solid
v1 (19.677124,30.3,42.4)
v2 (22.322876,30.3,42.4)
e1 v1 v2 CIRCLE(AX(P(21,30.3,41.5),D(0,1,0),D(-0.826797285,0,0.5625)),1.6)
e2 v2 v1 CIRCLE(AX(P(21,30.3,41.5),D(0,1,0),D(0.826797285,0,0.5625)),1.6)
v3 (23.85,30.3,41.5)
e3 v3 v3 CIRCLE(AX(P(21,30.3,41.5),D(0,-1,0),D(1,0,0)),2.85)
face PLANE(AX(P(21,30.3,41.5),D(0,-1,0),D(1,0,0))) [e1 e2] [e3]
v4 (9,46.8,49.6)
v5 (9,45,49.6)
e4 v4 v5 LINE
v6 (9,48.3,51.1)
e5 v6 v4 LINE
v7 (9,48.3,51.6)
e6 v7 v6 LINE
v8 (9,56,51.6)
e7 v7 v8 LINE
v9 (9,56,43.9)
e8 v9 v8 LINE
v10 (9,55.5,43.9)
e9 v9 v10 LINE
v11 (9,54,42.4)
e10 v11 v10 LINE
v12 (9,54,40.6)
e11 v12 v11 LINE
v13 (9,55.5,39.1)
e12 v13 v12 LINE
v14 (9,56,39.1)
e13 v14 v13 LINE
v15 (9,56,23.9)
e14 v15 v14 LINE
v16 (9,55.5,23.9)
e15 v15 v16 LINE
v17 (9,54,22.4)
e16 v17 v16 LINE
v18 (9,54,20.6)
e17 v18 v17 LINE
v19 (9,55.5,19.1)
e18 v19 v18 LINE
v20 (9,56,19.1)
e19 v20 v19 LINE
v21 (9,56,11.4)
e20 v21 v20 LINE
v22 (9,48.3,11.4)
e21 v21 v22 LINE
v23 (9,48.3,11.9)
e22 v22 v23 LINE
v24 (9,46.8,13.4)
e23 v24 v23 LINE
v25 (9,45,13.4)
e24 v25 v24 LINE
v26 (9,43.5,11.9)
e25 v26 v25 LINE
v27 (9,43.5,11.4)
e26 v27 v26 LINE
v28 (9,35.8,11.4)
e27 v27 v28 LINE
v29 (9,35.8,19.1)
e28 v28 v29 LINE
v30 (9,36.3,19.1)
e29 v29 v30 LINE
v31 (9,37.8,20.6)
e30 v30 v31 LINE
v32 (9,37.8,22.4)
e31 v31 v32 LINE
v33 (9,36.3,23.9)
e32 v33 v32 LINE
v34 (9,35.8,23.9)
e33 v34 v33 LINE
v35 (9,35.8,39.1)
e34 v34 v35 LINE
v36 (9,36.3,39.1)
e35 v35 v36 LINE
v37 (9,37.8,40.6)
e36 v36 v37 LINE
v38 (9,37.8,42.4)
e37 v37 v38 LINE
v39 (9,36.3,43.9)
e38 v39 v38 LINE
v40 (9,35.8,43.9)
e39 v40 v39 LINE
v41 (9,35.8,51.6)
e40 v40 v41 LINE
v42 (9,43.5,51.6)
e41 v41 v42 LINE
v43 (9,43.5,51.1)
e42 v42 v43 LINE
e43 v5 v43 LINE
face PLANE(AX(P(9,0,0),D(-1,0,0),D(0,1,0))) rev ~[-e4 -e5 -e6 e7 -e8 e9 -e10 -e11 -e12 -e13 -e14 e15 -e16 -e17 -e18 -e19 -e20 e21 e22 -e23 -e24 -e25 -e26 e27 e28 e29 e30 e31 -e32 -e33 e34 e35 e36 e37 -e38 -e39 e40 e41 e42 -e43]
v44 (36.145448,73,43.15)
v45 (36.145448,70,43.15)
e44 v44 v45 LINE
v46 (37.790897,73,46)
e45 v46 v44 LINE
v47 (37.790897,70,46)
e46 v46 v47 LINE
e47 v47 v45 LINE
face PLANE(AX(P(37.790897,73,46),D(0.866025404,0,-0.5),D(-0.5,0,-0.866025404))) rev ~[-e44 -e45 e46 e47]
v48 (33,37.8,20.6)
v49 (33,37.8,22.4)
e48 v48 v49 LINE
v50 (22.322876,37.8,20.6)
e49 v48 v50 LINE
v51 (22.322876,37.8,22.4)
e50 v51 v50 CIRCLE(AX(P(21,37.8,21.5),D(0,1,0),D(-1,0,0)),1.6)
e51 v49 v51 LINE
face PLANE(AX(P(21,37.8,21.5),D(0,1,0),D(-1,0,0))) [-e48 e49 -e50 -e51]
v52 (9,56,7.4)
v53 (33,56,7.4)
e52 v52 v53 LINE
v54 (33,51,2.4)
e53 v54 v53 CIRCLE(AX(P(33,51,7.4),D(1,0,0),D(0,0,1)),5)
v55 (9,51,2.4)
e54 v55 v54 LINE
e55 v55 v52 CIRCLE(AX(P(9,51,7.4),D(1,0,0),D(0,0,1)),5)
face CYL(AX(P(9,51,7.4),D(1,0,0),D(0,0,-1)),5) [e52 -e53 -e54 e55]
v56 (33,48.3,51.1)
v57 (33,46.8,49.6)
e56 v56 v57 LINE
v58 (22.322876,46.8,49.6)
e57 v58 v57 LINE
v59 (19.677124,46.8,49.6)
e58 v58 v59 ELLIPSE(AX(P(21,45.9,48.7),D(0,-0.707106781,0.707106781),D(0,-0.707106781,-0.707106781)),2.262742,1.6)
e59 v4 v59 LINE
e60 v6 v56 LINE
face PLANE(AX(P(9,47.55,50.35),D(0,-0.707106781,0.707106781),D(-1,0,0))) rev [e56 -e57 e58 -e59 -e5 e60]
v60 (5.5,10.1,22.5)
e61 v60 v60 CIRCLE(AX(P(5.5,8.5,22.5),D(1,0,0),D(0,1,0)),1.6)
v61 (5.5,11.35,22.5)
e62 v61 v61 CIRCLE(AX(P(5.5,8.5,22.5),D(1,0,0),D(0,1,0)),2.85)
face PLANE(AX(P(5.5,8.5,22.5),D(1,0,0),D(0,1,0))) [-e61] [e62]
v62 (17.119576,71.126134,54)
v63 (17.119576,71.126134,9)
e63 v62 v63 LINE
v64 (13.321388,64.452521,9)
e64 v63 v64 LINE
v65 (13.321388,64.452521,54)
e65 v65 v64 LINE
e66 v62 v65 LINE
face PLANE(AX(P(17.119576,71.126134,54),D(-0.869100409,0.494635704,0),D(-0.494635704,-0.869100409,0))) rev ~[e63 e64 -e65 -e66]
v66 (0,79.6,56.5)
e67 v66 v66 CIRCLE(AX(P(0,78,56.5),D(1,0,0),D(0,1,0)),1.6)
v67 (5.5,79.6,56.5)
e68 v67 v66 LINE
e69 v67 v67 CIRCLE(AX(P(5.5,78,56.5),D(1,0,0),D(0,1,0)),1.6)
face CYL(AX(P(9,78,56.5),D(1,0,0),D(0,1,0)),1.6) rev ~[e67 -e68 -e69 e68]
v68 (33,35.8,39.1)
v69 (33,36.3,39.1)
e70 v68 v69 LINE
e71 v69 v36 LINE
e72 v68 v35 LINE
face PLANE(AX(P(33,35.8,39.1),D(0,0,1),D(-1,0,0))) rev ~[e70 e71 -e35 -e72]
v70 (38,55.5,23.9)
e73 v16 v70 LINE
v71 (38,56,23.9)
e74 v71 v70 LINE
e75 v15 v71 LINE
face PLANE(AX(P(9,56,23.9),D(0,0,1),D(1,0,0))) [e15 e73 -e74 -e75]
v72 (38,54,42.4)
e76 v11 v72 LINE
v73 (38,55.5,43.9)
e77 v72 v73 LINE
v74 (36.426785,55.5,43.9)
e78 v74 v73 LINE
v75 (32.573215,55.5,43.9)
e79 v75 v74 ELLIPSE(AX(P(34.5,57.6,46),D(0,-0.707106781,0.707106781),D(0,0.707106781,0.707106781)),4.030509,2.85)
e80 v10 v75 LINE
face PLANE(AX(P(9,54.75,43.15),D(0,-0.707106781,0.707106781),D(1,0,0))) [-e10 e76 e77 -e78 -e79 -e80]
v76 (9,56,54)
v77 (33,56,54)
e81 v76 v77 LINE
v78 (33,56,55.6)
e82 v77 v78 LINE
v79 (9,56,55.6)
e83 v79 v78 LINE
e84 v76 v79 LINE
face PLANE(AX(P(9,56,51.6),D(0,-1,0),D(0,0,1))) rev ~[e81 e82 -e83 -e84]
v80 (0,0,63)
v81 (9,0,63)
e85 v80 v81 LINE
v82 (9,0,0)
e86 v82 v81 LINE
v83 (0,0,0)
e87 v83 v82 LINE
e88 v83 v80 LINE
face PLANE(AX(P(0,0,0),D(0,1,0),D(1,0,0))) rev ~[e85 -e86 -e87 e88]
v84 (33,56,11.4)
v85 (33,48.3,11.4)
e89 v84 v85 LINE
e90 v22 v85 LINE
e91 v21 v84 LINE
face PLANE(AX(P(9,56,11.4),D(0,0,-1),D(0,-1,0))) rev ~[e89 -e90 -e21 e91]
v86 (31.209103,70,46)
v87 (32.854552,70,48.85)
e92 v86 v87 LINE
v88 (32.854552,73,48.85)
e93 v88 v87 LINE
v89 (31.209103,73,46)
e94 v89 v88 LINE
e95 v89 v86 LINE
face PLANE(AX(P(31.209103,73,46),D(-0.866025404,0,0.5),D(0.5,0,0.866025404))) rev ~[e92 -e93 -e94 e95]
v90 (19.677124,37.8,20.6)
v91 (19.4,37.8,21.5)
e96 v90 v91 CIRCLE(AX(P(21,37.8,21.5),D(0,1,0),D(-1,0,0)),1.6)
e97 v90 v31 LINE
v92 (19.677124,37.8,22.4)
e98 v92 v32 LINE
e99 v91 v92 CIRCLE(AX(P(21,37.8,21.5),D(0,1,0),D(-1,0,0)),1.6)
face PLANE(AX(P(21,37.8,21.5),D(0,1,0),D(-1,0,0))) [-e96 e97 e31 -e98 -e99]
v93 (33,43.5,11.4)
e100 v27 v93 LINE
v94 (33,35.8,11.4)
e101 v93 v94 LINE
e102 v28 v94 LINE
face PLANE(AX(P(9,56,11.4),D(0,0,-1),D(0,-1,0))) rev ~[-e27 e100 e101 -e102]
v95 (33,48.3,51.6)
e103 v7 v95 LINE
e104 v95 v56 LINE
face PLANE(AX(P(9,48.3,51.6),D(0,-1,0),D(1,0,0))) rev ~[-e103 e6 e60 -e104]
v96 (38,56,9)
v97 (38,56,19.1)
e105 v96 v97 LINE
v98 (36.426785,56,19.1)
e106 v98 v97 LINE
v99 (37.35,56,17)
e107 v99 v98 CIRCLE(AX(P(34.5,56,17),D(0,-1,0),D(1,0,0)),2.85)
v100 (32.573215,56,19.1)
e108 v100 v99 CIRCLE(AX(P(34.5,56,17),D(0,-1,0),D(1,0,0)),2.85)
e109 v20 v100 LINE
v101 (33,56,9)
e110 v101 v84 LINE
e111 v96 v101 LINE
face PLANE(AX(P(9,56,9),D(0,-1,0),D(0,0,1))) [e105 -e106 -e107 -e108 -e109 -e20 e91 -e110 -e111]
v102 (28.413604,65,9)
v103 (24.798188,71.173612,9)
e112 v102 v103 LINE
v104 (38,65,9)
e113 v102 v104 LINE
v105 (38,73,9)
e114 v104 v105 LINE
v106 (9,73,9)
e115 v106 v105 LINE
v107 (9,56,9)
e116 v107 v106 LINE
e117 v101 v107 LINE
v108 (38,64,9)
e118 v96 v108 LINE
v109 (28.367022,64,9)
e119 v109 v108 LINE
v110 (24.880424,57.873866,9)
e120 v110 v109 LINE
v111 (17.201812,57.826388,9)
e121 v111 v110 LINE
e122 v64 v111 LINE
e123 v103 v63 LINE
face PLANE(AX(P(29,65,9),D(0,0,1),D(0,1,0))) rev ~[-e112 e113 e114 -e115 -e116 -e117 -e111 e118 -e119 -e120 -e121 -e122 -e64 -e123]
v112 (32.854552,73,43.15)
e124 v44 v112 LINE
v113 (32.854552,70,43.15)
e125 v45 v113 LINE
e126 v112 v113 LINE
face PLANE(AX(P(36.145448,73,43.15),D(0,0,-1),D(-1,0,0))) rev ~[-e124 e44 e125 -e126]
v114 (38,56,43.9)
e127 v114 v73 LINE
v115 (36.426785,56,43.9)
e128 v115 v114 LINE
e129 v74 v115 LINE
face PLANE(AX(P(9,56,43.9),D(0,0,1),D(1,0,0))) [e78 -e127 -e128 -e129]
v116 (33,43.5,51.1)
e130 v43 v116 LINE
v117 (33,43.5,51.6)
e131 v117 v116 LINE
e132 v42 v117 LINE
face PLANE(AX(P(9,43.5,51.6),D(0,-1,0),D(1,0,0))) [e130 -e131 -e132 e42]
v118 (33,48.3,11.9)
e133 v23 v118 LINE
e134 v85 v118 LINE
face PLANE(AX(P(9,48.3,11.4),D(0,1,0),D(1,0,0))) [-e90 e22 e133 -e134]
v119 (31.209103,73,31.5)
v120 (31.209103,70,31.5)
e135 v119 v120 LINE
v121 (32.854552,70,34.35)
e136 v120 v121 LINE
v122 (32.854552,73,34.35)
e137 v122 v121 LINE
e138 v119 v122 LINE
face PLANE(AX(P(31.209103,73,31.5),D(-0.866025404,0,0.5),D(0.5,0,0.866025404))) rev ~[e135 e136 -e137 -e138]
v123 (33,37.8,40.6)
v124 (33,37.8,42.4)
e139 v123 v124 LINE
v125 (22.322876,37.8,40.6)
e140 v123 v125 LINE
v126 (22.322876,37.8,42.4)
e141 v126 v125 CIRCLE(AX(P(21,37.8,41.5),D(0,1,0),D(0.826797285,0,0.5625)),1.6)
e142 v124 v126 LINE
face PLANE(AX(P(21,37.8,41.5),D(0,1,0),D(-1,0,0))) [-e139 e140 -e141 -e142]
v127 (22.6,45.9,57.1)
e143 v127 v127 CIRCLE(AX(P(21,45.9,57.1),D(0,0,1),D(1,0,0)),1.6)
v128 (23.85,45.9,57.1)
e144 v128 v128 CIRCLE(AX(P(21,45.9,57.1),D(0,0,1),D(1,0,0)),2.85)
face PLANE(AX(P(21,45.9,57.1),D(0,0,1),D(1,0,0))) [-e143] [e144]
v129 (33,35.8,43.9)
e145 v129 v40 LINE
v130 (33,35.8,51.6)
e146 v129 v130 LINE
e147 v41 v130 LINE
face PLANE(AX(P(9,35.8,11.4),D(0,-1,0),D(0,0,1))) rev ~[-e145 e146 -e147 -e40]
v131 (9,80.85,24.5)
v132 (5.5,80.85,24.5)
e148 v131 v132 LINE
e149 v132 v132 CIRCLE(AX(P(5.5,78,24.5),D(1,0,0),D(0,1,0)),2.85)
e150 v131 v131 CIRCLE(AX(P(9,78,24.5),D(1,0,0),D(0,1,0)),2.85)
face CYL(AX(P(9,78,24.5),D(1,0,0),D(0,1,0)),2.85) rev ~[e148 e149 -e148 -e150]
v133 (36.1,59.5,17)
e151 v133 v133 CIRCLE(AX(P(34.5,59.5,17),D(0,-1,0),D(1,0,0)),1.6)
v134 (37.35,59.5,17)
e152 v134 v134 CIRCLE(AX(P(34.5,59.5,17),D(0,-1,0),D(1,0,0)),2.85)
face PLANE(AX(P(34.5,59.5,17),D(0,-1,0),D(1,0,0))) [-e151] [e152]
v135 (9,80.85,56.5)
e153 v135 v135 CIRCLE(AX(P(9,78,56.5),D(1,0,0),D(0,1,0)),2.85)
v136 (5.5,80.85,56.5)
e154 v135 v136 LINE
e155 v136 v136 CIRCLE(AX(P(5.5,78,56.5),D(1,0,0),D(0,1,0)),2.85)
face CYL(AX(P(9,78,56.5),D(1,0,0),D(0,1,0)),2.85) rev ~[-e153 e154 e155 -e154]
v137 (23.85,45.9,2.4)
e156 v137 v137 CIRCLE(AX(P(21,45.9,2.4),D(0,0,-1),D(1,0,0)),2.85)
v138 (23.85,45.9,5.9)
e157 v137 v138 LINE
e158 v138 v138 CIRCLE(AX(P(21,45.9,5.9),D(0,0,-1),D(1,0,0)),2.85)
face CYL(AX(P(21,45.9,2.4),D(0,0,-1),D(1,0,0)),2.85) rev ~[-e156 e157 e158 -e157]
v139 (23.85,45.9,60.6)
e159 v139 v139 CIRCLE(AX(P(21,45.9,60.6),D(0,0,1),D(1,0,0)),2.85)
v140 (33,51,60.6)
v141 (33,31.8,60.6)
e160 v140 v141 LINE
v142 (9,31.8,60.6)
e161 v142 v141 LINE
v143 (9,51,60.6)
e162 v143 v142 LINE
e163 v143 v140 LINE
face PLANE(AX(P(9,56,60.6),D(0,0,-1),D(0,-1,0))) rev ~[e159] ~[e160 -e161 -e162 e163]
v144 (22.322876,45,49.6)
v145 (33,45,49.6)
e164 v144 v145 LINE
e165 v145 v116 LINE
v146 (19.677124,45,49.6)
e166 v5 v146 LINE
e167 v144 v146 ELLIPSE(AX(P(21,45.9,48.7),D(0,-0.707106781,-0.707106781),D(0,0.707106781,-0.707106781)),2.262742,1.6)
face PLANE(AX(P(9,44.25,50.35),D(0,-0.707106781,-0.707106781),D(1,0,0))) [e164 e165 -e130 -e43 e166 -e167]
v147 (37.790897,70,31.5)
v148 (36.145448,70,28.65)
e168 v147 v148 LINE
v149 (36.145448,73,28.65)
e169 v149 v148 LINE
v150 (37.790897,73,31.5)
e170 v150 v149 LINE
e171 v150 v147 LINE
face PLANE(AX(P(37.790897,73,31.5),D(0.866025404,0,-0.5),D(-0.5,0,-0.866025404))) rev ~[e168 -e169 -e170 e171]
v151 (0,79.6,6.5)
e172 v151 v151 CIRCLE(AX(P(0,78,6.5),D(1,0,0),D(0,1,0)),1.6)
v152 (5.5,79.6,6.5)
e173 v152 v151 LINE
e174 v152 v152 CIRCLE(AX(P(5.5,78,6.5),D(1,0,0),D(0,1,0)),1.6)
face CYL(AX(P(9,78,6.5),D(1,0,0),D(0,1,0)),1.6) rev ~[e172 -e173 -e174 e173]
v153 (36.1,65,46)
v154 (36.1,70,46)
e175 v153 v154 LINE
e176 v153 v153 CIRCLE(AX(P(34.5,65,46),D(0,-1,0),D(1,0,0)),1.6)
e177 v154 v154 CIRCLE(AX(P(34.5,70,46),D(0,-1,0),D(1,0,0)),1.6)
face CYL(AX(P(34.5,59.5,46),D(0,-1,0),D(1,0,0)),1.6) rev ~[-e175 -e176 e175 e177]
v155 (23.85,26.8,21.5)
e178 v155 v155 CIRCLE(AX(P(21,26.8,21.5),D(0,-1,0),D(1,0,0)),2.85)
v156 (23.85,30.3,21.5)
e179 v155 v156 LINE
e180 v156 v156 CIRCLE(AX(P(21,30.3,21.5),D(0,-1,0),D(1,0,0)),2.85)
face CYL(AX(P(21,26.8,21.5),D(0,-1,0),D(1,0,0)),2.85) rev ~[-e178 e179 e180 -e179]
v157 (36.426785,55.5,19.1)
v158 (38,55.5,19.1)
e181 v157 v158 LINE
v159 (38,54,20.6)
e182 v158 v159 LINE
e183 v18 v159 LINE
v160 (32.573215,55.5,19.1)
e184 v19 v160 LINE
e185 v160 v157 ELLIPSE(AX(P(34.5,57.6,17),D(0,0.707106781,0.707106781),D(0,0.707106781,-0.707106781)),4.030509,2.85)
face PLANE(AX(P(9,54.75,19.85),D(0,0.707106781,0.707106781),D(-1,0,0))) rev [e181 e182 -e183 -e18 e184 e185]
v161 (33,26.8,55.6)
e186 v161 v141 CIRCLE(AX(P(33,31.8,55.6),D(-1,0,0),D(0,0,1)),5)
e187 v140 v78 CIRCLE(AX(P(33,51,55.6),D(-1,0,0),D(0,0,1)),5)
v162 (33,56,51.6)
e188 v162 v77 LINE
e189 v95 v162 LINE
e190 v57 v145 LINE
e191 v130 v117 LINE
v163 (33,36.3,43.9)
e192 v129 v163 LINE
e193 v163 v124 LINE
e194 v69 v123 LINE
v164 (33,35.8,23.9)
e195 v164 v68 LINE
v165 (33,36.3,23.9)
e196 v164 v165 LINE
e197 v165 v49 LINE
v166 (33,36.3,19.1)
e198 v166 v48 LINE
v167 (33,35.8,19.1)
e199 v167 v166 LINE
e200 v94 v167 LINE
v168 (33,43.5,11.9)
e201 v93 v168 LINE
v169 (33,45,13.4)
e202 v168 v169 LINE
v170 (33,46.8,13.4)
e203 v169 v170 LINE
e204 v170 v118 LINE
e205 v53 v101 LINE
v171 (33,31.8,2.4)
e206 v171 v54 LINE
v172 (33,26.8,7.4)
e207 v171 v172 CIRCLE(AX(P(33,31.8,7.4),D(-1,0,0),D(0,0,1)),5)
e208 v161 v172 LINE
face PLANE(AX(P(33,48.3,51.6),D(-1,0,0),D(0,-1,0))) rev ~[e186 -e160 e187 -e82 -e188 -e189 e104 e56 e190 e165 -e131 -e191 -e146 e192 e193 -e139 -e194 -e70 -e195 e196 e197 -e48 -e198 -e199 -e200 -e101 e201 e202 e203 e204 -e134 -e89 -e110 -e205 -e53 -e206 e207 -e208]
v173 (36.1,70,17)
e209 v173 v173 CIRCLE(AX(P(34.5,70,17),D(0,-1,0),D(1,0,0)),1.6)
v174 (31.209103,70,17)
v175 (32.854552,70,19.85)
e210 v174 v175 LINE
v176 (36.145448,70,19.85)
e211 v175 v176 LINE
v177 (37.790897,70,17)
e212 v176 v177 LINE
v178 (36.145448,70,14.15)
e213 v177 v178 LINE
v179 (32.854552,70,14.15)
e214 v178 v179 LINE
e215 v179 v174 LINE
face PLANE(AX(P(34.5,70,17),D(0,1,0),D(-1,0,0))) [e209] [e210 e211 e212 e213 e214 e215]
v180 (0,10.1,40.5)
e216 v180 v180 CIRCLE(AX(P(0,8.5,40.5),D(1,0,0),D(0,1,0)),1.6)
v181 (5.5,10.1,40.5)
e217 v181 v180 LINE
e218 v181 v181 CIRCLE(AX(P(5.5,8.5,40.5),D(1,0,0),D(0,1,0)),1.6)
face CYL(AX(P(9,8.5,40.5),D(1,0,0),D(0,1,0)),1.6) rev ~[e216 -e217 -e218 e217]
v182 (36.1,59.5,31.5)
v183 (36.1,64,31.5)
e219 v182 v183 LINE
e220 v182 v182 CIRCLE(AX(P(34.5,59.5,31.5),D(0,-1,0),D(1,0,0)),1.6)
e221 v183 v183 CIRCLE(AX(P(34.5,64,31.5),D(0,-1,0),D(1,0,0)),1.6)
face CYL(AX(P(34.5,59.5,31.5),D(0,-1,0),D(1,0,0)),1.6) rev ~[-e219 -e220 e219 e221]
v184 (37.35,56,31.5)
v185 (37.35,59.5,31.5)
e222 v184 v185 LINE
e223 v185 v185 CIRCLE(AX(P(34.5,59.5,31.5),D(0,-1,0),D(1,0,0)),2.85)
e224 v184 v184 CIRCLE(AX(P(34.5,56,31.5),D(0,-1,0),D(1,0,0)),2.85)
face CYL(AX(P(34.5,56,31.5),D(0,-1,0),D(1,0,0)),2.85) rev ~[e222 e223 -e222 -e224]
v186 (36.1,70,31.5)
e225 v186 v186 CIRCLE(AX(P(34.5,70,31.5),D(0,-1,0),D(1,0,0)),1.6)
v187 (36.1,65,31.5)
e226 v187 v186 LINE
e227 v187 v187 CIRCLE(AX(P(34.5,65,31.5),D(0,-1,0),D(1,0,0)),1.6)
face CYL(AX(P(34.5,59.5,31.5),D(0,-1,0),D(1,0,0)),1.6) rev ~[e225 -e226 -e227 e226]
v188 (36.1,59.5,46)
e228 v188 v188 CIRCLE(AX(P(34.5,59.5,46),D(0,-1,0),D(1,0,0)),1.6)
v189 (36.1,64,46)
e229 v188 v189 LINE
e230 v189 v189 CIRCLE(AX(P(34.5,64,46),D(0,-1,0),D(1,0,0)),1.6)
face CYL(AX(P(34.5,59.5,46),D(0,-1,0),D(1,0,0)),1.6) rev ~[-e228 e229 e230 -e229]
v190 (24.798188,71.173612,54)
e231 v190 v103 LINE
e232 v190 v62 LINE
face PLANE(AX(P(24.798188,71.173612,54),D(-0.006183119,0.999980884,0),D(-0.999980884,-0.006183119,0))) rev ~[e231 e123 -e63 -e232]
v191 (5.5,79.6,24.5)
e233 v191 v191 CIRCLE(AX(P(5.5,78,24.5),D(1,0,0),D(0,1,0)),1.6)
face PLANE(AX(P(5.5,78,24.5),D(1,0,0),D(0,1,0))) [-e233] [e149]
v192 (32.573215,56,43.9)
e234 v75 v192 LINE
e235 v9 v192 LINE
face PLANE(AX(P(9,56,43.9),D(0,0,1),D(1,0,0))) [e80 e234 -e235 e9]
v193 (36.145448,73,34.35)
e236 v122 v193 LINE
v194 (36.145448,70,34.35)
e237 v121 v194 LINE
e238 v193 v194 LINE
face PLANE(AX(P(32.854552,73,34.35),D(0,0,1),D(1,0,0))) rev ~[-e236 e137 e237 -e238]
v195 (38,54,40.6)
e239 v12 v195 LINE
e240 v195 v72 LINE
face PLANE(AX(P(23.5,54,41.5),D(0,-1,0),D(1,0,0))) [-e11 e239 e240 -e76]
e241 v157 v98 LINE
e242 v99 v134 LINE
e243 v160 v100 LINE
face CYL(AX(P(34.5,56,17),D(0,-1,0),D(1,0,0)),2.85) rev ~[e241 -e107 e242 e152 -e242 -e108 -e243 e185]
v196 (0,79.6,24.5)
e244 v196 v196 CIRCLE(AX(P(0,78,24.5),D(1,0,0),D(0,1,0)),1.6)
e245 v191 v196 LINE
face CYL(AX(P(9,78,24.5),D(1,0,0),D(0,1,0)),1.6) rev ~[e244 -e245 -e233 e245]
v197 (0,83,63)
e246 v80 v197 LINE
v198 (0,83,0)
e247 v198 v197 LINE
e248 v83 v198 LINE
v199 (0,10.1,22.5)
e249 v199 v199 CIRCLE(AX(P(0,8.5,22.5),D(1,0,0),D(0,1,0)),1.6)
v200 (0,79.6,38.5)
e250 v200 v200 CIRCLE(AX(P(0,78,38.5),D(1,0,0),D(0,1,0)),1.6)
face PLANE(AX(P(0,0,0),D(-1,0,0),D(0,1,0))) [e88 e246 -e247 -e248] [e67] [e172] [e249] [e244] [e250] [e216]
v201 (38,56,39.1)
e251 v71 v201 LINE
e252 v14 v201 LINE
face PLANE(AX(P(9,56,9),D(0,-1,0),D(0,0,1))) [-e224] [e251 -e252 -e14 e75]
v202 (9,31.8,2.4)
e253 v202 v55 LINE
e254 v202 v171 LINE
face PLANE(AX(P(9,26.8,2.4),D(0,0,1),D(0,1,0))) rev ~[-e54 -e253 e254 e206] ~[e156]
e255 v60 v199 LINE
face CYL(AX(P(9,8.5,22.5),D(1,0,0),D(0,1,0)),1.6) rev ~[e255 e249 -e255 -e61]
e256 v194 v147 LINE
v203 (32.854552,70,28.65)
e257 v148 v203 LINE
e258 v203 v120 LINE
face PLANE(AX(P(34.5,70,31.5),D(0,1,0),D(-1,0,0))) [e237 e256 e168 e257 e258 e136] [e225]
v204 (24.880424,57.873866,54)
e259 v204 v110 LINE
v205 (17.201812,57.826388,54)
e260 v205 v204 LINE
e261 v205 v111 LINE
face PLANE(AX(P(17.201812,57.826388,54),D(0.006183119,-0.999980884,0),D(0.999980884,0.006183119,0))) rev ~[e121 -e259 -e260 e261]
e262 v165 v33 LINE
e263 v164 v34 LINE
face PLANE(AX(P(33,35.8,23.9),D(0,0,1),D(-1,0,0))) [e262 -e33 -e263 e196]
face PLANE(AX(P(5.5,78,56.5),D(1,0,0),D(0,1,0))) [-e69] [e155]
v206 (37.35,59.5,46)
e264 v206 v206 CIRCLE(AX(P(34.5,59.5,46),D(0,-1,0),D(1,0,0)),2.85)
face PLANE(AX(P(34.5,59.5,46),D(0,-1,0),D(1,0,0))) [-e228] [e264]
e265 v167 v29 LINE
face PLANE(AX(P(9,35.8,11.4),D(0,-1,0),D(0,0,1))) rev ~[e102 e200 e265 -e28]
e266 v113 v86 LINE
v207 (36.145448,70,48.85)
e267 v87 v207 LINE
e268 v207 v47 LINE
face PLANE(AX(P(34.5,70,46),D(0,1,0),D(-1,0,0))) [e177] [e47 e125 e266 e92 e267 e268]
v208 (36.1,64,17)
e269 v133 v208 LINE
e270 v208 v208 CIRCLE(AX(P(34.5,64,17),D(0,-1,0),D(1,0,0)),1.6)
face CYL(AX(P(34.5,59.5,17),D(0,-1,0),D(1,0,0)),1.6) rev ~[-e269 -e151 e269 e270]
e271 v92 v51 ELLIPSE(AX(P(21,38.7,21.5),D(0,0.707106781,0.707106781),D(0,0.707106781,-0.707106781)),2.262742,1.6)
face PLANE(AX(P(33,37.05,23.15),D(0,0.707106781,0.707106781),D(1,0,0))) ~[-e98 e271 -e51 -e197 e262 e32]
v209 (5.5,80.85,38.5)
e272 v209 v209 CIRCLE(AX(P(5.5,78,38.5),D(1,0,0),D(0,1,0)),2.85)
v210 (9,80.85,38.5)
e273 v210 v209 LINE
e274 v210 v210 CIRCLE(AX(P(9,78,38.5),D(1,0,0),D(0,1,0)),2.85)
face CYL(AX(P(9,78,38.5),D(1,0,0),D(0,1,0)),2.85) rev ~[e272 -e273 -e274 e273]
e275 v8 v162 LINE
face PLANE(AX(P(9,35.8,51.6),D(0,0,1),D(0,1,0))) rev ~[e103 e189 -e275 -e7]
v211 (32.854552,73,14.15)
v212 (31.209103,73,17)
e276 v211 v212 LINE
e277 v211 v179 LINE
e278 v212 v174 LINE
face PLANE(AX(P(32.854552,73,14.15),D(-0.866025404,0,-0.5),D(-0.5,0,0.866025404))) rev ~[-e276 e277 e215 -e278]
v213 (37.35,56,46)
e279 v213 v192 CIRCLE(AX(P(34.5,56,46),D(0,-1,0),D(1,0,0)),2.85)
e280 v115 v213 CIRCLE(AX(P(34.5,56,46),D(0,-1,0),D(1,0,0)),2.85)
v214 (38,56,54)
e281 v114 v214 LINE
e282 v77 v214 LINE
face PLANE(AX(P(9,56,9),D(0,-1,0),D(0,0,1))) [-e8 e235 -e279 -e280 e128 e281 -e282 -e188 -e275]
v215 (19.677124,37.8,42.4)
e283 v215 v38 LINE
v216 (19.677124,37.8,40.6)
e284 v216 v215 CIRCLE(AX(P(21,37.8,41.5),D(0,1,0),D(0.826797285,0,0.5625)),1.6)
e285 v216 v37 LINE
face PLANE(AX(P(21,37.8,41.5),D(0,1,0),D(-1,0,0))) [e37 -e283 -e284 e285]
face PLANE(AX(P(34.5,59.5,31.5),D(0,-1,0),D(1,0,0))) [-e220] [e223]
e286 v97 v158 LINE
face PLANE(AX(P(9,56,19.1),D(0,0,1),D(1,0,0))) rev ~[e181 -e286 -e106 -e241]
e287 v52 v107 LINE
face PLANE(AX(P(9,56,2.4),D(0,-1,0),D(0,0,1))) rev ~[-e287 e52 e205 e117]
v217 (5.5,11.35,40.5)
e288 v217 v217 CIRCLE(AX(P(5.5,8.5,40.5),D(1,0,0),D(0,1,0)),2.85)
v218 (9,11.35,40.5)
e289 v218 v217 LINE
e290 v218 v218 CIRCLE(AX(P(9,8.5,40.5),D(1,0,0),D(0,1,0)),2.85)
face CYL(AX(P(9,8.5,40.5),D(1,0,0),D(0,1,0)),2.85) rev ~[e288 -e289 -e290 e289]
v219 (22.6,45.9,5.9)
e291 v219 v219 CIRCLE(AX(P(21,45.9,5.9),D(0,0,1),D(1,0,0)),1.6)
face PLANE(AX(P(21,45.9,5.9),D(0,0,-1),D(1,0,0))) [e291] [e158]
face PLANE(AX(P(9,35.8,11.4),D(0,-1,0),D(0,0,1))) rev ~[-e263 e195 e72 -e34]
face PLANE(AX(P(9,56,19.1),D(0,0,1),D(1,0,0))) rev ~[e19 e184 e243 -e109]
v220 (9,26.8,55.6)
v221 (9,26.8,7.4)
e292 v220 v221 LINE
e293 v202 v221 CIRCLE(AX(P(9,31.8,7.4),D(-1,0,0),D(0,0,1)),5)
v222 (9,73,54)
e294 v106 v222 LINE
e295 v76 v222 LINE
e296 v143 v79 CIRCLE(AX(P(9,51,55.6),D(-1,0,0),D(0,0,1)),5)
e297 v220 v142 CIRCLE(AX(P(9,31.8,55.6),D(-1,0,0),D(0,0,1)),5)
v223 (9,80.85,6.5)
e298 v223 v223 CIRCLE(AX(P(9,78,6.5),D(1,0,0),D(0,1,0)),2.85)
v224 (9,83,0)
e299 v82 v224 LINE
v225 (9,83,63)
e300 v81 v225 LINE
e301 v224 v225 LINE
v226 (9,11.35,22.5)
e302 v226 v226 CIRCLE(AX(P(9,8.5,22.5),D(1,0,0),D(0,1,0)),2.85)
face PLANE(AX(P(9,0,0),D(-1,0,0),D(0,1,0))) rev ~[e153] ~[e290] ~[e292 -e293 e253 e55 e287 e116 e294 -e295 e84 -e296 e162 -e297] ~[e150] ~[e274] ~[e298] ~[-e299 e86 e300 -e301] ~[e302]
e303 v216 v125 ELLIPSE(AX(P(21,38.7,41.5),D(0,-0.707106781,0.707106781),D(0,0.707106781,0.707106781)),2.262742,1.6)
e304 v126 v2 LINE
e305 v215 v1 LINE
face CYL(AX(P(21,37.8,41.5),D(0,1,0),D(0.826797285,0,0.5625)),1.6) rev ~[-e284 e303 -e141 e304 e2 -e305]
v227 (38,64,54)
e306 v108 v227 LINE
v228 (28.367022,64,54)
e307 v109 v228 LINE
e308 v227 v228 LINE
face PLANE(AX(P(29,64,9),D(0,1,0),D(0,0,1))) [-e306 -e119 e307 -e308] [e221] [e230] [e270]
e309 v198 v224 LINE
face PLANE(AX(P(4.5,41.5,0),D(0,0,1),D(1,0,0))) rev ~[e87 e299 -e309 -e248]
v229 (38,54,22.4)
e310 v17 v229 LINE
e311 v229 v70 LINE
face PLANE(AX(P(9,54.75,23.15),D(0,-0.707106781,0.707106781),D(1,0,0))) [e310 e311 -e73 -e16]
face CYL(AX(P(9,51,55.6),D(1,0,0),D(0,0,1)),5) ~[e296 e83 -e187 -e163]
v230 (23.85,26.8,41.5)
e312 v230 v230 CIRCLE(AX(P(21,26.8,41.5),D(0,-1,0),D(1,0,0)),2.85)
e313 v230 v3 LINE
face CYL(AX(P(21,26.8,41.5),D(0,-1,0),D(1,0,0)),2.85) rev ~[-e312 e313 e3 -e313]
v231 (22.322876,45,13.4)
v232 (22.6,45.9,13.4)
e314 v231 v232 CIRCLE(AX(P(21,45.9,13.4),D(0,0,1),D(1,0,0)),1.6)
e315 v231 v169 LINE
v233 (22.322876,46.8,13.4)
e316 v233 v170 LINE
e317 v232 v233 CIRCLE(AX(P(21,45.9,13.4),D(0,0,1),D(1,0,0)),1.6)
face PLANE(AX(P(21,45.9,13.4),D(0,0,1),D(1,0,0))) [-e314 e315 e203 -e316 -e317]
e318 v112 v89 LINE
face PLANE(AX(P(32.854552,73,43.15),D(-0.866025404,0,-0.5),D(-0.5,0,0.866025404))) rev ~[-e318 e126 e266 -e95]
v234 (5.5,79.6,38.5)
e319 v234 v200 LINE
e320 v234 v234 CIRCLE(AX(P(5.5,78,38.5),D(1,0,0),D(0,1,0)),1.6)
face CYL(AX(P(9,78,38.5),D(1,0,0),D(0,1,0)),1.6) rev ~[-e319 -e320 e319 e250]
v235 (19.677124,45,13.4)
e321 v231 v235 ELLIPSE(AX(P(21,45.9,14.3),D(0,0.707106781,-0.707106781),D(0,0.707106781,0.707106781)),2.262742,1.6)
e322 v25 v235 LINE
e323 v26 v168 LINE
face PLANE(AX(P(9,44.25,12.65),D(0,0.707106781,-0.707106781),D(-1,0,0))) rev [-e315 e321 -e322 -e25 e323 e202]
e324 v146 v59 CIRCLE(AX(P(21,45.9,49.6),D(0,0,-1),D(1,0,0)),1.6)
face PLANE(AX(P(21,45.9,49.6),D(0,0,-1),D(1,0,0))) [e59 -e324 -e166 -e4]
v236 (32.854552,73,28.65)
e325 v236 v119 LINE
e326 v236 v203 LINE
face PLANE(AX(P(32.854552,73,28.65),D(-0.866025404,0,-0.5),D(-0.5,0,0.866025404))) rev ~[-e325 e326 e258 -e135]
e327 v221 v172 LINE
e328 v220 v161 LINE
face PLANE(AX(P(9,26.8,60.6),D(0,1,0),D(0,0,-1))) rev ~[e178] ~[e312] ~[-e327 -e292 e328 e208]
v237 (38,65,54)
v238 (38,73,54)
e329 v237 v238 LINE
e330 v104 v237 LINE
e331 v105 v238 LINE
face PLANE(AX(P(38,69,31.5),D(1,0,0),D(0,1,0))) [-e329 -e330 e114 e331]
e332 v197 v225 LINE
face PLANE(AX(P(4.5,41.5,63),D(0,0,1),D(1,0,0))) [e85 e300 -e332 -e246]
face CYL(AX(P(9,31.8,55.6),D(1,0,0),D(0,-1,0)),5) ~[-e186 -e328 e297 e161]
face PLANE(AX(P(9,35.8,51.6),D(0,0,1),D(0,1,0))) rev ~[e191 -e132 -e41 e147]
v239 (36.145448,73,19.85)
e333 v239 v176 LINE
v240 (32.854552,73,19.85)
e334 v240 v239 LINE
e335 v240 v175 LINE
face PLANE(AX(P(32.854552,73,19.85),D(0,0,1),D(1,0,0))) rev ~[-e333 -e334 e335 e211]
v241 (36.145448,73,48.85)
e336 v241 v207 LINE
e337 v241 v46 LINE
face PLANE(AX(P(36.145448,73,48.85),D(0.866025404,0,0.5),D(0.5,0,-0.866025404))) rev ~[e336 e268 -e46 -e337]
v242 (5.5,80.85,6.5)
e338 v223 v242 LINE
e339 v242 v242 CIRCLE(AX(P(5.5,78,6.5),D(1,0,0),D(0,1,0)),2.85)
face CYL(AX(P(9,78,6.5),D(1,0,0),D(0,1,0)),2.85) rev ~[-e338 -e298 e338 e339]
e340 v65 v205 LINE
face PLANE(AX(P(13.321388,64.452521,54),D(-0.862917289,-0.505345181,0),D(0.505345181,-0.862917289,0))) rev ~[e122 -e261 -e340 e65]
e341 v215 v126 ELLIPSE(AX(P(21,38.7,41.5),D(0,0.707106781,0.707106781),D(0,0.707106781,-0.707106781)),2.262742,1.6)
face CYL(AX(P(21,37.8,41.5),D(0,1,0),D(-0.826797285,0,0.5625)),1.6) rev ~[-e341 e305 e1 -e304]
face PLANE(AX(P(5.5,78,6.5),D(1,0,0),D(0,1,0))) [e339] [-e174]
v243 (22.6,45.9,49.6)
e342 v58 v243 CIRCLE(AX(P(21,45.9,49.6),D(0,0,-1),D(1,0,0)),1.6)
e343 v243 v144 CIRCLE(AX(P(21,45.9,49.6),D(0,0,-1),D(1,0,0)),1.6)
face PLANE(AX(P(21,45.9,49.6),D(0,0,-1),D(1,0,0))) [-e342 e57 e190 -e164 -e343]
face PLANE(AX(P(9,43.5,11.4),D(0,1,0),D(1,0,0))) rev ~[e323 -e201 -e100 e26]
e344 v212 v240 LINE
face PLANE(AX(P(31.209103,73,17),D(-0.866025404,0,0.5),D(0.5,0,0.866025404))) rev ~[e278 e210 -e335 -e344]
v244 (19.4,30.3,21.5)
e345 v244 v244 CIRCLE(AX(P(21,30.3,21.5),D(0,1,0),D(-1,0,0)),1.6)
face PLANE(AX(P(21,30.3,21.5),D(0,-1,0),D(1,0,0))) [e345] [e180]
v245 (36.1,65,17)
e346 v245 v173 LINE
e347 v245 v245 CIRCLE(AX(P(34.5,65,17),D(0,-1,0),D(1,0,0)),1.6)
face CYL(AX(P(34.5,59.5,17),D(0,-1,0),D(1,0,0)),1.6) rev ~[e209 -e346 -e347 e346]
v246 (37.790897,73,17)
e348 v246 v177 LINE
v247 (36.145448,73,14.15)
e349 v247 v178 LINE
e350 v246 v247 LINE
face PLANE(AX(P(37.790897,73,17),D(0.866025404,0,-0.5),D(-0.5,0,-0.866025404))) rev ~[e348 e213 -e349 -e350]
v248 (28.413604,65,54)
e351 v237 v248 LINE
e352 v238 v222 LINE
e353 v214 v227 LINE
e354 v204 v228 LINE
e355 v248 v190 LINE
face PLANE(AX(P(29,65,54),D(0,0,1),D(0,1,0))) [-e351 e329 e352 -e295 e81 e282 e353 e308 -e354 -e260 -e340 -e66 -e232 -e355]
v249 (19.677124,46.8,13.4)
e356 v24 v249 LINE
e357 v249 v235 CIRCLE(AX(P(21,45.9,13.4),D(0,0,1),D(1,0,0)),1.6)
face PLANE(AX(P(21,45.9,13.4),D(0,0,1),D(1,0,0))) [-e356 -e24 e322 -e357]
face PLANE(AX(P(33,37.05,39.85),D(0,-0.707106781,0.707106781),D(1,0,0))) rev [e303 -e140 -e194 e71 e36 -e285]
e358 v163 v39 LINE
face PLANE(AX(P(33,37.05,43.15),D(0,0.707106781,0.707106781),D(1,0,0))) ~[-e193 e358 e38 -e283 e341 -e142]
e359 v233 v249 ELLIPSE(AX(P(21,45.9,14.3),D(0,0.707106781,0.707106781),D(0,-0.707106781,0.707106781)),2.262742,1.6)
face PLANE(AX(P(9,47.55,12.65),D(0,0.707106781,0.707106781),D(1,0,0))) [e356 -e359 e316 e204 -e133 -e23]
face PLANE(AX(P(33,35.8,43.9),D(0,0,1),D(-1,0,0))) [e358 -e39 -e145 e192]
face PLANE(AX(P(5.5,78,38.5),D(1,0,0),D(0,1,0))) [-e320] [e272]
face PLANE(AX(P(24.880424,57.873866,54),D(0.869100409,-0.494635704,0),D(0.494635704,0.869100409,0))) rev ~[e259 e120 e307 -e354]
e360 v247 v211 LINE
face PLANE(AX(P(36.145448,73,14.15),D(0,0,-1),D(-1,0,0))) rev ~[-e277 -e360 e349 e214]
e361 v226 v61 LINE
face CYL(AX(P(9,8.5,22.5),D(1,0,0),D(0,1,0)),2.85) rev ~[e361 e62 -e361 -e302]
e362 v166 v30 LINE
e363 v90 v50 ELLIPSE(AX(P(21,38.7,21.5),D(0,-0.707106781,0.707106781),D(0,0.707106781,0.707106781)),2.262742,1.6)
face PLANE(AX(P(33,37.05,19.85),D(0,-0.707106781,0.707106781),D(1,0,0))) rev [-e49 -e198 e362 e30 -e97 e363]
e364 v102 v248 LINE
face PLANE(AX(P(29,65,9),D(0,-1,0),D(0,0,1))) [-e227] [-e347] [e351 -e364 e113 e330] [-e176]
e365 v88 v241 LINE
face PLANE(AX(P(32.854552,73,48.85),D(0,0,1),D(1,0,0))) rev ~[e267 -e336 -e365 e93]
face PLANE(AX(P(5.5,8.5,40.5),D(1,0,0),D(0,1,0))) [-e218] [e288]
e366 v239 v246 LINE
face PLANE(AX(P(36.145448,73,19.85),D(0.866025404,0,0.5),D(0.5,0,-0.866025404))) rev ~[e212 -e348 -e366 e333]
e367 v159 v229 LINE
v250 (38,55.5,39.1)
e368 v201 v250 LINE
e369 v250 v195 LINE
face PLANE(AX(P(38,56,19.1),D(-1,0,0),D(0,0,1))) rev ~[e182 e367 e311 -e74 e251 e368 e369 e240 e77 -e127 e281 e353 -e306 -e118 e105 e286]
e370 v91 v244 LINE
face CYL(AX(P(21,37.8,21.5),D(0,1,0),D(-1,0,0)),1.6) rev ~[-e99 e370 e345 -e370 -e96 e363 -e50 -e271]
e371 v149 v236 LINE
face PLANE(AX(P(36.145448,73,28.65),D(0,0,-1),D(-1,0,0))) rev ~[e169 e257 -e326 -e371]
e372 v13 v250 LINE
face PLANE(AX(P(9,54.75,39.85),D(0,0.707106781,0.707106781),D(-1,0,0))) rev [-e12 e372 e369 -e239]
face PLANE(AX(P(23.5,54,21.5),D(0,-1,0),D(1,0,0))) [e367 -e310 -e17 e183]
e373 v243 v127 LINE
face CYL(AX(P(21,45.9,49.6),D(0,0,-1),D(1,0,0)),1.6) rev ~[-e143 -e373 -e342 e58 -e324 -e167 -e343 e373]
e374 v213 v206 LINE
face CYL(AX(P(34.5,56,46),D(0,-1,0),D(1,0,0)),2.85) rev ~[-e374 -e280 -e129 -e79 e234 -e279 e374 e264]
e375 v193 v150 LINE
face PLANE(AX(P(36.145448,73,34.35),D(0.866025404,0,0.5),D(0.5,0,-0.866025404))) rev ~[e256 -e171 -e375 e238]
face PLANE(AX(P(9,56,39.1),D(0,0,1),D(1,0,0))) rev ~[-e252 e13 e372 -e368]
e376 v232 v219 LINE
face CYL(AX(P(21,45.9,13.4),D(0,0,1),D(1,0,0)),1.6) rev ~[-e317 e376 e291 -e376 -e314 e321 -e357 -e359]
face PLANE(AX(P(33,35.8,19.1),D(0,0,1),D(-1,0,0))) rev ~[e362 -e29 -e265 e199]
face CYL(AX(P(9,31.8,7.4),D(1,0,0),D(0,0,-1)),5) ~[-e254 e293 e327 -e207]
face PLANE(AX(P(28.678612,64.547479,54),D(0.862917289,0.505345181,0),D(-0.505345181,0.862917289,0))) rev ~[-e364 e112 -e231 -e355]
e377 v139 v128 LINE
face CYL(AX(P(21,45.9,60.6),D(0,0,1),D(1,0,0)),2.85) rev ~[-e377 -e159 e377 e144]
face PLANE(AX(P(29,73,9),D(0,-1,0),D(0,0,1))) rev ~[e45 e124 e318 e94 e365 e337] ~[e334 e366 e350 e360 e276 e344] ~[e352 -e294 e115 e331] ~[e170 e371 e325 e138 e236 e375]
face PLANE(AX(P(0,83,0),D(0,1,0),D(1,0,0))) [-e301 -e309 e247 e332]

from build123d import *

# Parameters (mm, degrees)
F2_W      = 9
F2_H      = 83
F3_DEPTH  = 63
F4_R      = 2.85
F5_DEPTH  = 3.5
F6_R      = 1.6
F7_DEPTH  = 25
F8_W      = 17
F8_H      = 45
F9_DEPTH  = 20
F11_DEPTH = 70
F12_W     = 8
F12_H     = 45
F13_DEPTH = 9
F14_DEPTH = 5
F15_R     = 2.85
F16_DEPTH = 3.5
F17_R     = 1.6
F18_DEPTH = 25
F20_DEPTH = 3
F21_W     = 9
F21_H     = 40.2
F22_DEPTH = 24
F23_W     = 24
F23_H     = 4.8
F24_DEPTH = 2
F25_SIZE  = 1.5
F26_R     = 1.6
F27_DEPTH = 25
F28_R     = 1.6
F29_DEPTH = 25
F30_W     = 29
F30_H     = 4.8
F31_DEPTH = 2
F32_SIZE  = 1.5
F33_DEPTH = 3
F34_W     = 24
F34_H     = 4.8
F35_DEPTH = 2
F36_SIZE  = 1.5
F37_R     = 1.6
F38_DEPTH = 25
F39_W     = 24
F39_H     = 4.8
F40_DEPTH = 2
F41_SIZE  = 1.5
F42_R     = 1.6
F43_DEPTH = 25
F44_R     = 2.85
F45_DEPTH = 3.5
F46_R     = 2.85
F47_DEPTH = 3.5
F48_R     = 5
F49_R     = 5
F50_R     = 5
F51_R     = 2.85
F51_R_2   = 1.6
F52_DEPTH = 3.5


with BuildPart() as f3:
    # F2 (on Top) → F3 (new body)
    with BuildSketch(Plane.XY):
        with Locations((4.5, 41.5)):
            Rectangle(F2_W, F2_H)
    extrude(amount=F3_DEPTH)

    # F4 (on face) → F5 (cut)
    with BuildSketch(Plane.YZ.offset(9)):
        with Locations((8.5, 40.5)):
            Circle(F4_R)
        with Locations((8.5, 22.5)):
            Circle(F4_R)
        with Locations((78, 56.5)):
            Circle(F4_R)
        with Locations((78, 38.5)):
            Circle(F4_R)
        with Locations((78, 24.5)):
            Circle(F4_R)
        with Locations((78, 6.5)):
            Circle(F4_R)
    extrude(amount=-F5_DEPTH, mode=Mode.SUBTRACT)

    # F6 (on face) → F7 (cut)
    with BuildSketch(Plane.YZ.offset(9)):
        with Locations((8.5, 40.5)):
            Circle(F6_R)
        with Locations((8.5, 22.5)):
            Circle(F6_R)
        with Locations((78, 24.5)):
            Circle(F6_R)
        with Locations((78, 38.5)):
            Circle(F6_R)
        with Locations((78, 56.5)):
            Circle(F6_R)
        with Locations((78, 6.5)):
            Circle(F6_R)
    extrude(amount=-F7_DEPTH, mode=Mode.SUBTRACT)

    # F8 (on face) → F9 (join)
    with BuildSketch(Plane.YZ.offset(9)):
        with Locations((64.5, 31.5)):
            Rectangle(F8_W, F8_H)
    extrude(amount=F9_DEPTH)

    # F10 (on face) → F11 (cut)
    with BuildSketch(Plane.XY.offset(54)):
        Polygon((28.6786117956, 64.5474786816), (24.7981881534, 71.1736122216), (17.1195763578, 71.12613354), (13.3213882044, 64.4525213184), (17.2018118466, 57.8263877784), (24.8804236422, 57.87386646), align=None)
    extrude(amount=-F11_DEPTH, mode=Mode.SUBTRACT)

    # F12 (on face) → F13 (join)
    with BuildSketch(Plane.YZ.offset(29)):
        with Locations((69, 31.5)):
            Rectangle(F12_W, F12_H)
        with Locations((60, 31.5)):
            Rectangle(F12_W, F12_H)
    extrude(amount=F13_DEPTH)

    # F14 (cut): a face of the model
    f14_faces = [f3.faces().sort_by_distance(p)[0] for p in [
        (29, 64.5, 31.5),
    ]]
    extrude(f14_faces, amount=-F14_DEPTH, mode=Mode.SUBTRACT)

    # F15 (on face) → F16 (cut)
    with BuildSketch(Plane.XZ.offset(-56)):
        with Locations((34.5, 46)):
            Circle(F15_R)
        with Locations((34.5, 31.5)):
            Circle(F15_R)
        with Locations((34.5, 17)):
            Circle(F15_R)
    extrude(amount=-F16_DEPTH, mode=Mode.SUBTRACT)

    # F17 (on face) → F18 (cut)
    with BuildSketch(Plane.XZ.offset(-59.5)):
        with Locations((34.5, 46)):
            Circle(F17_R)
        with Locations((34.5, 31.5)):
            Circle(F17_R)
        with Locations((34.5, 17)):
            Circle(F17_R)
    extrude(amount=-F18_DEPTH, mode=Mode.SUBTRACT)

    # F19 (on face) → F20 (cut)
    with BuildSketch(Plane(origin=(0, 73, 0), x_dir=(-1, 0, 0), z_dir=(0, 1, 0))):
        Polygon((-32.8545517328, 48.85), (-36.1454482672, 48.85), (-37.7908965344, 46), (-36.1454482672, 43.15), (-32.8545517328, 43.15), (-31.2091034656, 46), align=None)
        Polygon((-37.7908965344, 31.5), (-36.1454482672, 28.65), (-32.8545517328, 28.65), (-31.2091034656, 31.5), (-32.8545517328, 34.35), (-36.1454482672, 34.35), align=None)
        Polygon((-31.2091034656, 17), (-32.8545517328, 19.85), (-36.1454482672, 19.85), (-37.7908965344, 17), (-36.1454482672, 14.15), (-32.8545517328, 14.15), align=None)
    extrude(amount=-F20_DEPTH, mode=Mode.SUBTRACT)

    # F21 (on face) → F22 (join)
    with BuildSketch(Plane.YZ.offset(9)):
        with Locations((31.3, 31.5)):
            Rectangle(F21_W, F21_H)
        Polygon((26.8, 51.6), (35.8, 51.6), (56, 51.6), (56, 60.6), (26.8, 60.6), align=None)
        Polygon((56, 11.4), (35.8, 11.4), (26.8, 11.4), (26.8, 2.4), (56, 2.4), align=None)
    extrude(amount=F22_DEPTH)

    # F23 (on face) → F24 (join)
    with BuildSketch(Plane(origin=(0, 35.8, 0), x_dir=(-1, 0, 0), z_dir=(0, 1, 0))):
        with Locations((-21, 41.5)):
            Rectangle(F23_W, F23_H)
        with Locations((-21, 21.5)):
            Rectangle(F23_W, F23_H)
    extrude(amount=F24_DEPTH)

    # F25
    f25_edges = [f3.edges().sort_by_distance(p)[0] for p in [
        (21, 37.8, 39.1),
        (21, 37.8, 43.9),
        (21, 37.8, 23.9),
        (21, 37.8, 19.1),
    ]]
    chamfer(f25_edges, length=F25_SIZE)

    # F26 (on face) → F27 (cut)
    with BuildSketch(Plane(origin=(0, 37.8, 0), x_dir=(-1, 0, 0), z_dir=(0, 1, 0))):
        with Locations((-21, 41.5)):
            Circle(F26_R)
        with BuildLine():
            Line((-22.3228756555, 42.4), (-19.6771243445, 42.4))
            ThreePointArc((-19.6771243445, 42.4), (-21, 43.1), (-22.3228756555, 42.4))
        make_face()
    extrude(amount=-F27_DEPTH, mode=Mode.SUBTRACT)

    # F28 (on face) → F29 (cut)
    with BuildSketch(Plane(origin=(0, 37.8, 0), x_dir=(-1, 0, 0), z_dir=(0, 1, 0))):
        with Locations((-21, 21.5)):
            Circle(F28_R)
    extrude(amount=-F29_DEPTH, mode=Mode.SUBTRACT)

    # F30 (on face) → F31 (join)
    with BuildSketch(Plane.XZ.offset(-56)):
        with Locations((23.5, 21.5)):
            Rectangle(F30_W, F30_H)
        with Locations((23.5, 41.5)):
            Rectangle(F30_W, F30_H)
    extrude(amount=F31_DEPTH)

    # F32
    f32_edges = [f3.edges().sort_by_distance(p)[0] for p in [
        (23.5, 54, 43.9),
        (23.5, 54, 39.1),
        (23.5, 54, 23.9),
        (23.5, 54, 19.1),
    ]]
    chamfer(f32_edges, length=F32_SIZE)

    # F15 (on face) → F33 (cut)
    with BuildSketch(Plane.XZ.offset(-56)):
        with Locations((34.5, 46)):
            Circle(F15_R)
        with Locations((34.5, 31.5)):
            Circle(F15_R)
        with Locations((34.5, 17)):
            Circle(F15_R)
    extrude(amount=F33_DEPTH, mode=Mode.SUBTRACT)

    # F34 (on face) → F35 (join)
    with BuildSketch(Plane(origin=(0, 0, 51.6), x_dir=(1, 0, 0), z_dir=(0, 0, -1))):
        with Locations((21, -45.9)):
            Rectangle(F34_W, F34_H)
    extrude(amount=F35_DEPTH)

    # F36
    f36_edges = [f3.edges().sort_by_distance(p)[0] for p in [
        (21, 43.5, 49.6),
        (21, 48.3, 49.6),
    ]]
    chamfer(f36_edges, length=F36_SIZE)

    # F37 (on face) → F38 (cut)
    with BuildSketch(Plane(origin=(0, 0, 49.6), x_dir=(1, 0, 0), z_dir=(0, 0, -1))):
        with Locations((21, -45.9)):
            Circle(F37_R)
    extrude(amount=-F38_DEPTH, mode=Mode.SUBTRACT)

    # F39 (on face) → F40 (join)
    with BuildSketch(Plane.XY.offset(11.4)):
        with Locations((21, 45.9)):
            Rectangle(F39_W, F39_H)
    extrude(amount=F40_DEPTH)

    # F41
    f41_edges = [f3.edges().sort_by_distance(p)[0] for p in [
        (21, 48.3, 13.4),
        (21, 43.5, 13.4),
    ]]
    chamfer(f41_edges, length=F41_SIZE)

    # F42 (on face) → F43 (cut)
    with BuildSketch(Plane.XY.offset(13.4)):
        with Locations((21, 45.9)):
            Circle(F42_R)
    extrude(amount=-F43_DEPTH, mode=Mode.SUBTRACT)

    # F44 (on face) → F45 (cut)
    with BuildSketch(Plane(origin=(0, 0, 2.4), x_dir=(1, 0, 0), z_dir=(0, 0, -1))):
        with Locations((21, -45.9)):
            Circle(F44_R)
    extrude(amount=-F45_DEPTH, mode=Mode.SUBTRACT)

    # F46 (on face) → F47 (cut)
    with BuildSketch(Plane.XZ.offset(-26.8)):
        with Locations((21, 41.5)):
            Circle(F46_R)
        with Locations((21, 21.5)):
            Circle(F46_R)
    extrude(amount=-F47_DEPTH, mode=Mode.SUBTRACT)

    # F48
    f48_edges = [f3.edges().sort_by_distance(p)[0] for p in [
        (21, 26.8, 2.4),
    ]]
    fillet(f48_edges, radius=F48_R)

    # F49
    f49_edges = [f3.edges().sort_by_distance(p)[0] for p in [
        (21, 26.8, 60.6),
    ]]
    fillet(f49_edges, radius=F49_R)

    # F50
    f50_edges = [f3.edges().sort_by_distance(p)[0] for p in [
        (21, 56, 2.4),
        (21, 56, 60.6),
    ]]
    fillet(f50_edges, radius=F50_R)

    # F51 (on face) → F52 (cut)
    with BuildSketch(Plane.XY.offset(60.6)):
        with Locations((21, 45.9)):
            Circle(F51_R)
        with Locations((21, 45.9)):
            Circle(F51_R_2, mode=Mode.SUBTRACT)
    extrude(amount=-F52_DEPTH, mode=Mode.SUBTRACT)


solid = f3.part
